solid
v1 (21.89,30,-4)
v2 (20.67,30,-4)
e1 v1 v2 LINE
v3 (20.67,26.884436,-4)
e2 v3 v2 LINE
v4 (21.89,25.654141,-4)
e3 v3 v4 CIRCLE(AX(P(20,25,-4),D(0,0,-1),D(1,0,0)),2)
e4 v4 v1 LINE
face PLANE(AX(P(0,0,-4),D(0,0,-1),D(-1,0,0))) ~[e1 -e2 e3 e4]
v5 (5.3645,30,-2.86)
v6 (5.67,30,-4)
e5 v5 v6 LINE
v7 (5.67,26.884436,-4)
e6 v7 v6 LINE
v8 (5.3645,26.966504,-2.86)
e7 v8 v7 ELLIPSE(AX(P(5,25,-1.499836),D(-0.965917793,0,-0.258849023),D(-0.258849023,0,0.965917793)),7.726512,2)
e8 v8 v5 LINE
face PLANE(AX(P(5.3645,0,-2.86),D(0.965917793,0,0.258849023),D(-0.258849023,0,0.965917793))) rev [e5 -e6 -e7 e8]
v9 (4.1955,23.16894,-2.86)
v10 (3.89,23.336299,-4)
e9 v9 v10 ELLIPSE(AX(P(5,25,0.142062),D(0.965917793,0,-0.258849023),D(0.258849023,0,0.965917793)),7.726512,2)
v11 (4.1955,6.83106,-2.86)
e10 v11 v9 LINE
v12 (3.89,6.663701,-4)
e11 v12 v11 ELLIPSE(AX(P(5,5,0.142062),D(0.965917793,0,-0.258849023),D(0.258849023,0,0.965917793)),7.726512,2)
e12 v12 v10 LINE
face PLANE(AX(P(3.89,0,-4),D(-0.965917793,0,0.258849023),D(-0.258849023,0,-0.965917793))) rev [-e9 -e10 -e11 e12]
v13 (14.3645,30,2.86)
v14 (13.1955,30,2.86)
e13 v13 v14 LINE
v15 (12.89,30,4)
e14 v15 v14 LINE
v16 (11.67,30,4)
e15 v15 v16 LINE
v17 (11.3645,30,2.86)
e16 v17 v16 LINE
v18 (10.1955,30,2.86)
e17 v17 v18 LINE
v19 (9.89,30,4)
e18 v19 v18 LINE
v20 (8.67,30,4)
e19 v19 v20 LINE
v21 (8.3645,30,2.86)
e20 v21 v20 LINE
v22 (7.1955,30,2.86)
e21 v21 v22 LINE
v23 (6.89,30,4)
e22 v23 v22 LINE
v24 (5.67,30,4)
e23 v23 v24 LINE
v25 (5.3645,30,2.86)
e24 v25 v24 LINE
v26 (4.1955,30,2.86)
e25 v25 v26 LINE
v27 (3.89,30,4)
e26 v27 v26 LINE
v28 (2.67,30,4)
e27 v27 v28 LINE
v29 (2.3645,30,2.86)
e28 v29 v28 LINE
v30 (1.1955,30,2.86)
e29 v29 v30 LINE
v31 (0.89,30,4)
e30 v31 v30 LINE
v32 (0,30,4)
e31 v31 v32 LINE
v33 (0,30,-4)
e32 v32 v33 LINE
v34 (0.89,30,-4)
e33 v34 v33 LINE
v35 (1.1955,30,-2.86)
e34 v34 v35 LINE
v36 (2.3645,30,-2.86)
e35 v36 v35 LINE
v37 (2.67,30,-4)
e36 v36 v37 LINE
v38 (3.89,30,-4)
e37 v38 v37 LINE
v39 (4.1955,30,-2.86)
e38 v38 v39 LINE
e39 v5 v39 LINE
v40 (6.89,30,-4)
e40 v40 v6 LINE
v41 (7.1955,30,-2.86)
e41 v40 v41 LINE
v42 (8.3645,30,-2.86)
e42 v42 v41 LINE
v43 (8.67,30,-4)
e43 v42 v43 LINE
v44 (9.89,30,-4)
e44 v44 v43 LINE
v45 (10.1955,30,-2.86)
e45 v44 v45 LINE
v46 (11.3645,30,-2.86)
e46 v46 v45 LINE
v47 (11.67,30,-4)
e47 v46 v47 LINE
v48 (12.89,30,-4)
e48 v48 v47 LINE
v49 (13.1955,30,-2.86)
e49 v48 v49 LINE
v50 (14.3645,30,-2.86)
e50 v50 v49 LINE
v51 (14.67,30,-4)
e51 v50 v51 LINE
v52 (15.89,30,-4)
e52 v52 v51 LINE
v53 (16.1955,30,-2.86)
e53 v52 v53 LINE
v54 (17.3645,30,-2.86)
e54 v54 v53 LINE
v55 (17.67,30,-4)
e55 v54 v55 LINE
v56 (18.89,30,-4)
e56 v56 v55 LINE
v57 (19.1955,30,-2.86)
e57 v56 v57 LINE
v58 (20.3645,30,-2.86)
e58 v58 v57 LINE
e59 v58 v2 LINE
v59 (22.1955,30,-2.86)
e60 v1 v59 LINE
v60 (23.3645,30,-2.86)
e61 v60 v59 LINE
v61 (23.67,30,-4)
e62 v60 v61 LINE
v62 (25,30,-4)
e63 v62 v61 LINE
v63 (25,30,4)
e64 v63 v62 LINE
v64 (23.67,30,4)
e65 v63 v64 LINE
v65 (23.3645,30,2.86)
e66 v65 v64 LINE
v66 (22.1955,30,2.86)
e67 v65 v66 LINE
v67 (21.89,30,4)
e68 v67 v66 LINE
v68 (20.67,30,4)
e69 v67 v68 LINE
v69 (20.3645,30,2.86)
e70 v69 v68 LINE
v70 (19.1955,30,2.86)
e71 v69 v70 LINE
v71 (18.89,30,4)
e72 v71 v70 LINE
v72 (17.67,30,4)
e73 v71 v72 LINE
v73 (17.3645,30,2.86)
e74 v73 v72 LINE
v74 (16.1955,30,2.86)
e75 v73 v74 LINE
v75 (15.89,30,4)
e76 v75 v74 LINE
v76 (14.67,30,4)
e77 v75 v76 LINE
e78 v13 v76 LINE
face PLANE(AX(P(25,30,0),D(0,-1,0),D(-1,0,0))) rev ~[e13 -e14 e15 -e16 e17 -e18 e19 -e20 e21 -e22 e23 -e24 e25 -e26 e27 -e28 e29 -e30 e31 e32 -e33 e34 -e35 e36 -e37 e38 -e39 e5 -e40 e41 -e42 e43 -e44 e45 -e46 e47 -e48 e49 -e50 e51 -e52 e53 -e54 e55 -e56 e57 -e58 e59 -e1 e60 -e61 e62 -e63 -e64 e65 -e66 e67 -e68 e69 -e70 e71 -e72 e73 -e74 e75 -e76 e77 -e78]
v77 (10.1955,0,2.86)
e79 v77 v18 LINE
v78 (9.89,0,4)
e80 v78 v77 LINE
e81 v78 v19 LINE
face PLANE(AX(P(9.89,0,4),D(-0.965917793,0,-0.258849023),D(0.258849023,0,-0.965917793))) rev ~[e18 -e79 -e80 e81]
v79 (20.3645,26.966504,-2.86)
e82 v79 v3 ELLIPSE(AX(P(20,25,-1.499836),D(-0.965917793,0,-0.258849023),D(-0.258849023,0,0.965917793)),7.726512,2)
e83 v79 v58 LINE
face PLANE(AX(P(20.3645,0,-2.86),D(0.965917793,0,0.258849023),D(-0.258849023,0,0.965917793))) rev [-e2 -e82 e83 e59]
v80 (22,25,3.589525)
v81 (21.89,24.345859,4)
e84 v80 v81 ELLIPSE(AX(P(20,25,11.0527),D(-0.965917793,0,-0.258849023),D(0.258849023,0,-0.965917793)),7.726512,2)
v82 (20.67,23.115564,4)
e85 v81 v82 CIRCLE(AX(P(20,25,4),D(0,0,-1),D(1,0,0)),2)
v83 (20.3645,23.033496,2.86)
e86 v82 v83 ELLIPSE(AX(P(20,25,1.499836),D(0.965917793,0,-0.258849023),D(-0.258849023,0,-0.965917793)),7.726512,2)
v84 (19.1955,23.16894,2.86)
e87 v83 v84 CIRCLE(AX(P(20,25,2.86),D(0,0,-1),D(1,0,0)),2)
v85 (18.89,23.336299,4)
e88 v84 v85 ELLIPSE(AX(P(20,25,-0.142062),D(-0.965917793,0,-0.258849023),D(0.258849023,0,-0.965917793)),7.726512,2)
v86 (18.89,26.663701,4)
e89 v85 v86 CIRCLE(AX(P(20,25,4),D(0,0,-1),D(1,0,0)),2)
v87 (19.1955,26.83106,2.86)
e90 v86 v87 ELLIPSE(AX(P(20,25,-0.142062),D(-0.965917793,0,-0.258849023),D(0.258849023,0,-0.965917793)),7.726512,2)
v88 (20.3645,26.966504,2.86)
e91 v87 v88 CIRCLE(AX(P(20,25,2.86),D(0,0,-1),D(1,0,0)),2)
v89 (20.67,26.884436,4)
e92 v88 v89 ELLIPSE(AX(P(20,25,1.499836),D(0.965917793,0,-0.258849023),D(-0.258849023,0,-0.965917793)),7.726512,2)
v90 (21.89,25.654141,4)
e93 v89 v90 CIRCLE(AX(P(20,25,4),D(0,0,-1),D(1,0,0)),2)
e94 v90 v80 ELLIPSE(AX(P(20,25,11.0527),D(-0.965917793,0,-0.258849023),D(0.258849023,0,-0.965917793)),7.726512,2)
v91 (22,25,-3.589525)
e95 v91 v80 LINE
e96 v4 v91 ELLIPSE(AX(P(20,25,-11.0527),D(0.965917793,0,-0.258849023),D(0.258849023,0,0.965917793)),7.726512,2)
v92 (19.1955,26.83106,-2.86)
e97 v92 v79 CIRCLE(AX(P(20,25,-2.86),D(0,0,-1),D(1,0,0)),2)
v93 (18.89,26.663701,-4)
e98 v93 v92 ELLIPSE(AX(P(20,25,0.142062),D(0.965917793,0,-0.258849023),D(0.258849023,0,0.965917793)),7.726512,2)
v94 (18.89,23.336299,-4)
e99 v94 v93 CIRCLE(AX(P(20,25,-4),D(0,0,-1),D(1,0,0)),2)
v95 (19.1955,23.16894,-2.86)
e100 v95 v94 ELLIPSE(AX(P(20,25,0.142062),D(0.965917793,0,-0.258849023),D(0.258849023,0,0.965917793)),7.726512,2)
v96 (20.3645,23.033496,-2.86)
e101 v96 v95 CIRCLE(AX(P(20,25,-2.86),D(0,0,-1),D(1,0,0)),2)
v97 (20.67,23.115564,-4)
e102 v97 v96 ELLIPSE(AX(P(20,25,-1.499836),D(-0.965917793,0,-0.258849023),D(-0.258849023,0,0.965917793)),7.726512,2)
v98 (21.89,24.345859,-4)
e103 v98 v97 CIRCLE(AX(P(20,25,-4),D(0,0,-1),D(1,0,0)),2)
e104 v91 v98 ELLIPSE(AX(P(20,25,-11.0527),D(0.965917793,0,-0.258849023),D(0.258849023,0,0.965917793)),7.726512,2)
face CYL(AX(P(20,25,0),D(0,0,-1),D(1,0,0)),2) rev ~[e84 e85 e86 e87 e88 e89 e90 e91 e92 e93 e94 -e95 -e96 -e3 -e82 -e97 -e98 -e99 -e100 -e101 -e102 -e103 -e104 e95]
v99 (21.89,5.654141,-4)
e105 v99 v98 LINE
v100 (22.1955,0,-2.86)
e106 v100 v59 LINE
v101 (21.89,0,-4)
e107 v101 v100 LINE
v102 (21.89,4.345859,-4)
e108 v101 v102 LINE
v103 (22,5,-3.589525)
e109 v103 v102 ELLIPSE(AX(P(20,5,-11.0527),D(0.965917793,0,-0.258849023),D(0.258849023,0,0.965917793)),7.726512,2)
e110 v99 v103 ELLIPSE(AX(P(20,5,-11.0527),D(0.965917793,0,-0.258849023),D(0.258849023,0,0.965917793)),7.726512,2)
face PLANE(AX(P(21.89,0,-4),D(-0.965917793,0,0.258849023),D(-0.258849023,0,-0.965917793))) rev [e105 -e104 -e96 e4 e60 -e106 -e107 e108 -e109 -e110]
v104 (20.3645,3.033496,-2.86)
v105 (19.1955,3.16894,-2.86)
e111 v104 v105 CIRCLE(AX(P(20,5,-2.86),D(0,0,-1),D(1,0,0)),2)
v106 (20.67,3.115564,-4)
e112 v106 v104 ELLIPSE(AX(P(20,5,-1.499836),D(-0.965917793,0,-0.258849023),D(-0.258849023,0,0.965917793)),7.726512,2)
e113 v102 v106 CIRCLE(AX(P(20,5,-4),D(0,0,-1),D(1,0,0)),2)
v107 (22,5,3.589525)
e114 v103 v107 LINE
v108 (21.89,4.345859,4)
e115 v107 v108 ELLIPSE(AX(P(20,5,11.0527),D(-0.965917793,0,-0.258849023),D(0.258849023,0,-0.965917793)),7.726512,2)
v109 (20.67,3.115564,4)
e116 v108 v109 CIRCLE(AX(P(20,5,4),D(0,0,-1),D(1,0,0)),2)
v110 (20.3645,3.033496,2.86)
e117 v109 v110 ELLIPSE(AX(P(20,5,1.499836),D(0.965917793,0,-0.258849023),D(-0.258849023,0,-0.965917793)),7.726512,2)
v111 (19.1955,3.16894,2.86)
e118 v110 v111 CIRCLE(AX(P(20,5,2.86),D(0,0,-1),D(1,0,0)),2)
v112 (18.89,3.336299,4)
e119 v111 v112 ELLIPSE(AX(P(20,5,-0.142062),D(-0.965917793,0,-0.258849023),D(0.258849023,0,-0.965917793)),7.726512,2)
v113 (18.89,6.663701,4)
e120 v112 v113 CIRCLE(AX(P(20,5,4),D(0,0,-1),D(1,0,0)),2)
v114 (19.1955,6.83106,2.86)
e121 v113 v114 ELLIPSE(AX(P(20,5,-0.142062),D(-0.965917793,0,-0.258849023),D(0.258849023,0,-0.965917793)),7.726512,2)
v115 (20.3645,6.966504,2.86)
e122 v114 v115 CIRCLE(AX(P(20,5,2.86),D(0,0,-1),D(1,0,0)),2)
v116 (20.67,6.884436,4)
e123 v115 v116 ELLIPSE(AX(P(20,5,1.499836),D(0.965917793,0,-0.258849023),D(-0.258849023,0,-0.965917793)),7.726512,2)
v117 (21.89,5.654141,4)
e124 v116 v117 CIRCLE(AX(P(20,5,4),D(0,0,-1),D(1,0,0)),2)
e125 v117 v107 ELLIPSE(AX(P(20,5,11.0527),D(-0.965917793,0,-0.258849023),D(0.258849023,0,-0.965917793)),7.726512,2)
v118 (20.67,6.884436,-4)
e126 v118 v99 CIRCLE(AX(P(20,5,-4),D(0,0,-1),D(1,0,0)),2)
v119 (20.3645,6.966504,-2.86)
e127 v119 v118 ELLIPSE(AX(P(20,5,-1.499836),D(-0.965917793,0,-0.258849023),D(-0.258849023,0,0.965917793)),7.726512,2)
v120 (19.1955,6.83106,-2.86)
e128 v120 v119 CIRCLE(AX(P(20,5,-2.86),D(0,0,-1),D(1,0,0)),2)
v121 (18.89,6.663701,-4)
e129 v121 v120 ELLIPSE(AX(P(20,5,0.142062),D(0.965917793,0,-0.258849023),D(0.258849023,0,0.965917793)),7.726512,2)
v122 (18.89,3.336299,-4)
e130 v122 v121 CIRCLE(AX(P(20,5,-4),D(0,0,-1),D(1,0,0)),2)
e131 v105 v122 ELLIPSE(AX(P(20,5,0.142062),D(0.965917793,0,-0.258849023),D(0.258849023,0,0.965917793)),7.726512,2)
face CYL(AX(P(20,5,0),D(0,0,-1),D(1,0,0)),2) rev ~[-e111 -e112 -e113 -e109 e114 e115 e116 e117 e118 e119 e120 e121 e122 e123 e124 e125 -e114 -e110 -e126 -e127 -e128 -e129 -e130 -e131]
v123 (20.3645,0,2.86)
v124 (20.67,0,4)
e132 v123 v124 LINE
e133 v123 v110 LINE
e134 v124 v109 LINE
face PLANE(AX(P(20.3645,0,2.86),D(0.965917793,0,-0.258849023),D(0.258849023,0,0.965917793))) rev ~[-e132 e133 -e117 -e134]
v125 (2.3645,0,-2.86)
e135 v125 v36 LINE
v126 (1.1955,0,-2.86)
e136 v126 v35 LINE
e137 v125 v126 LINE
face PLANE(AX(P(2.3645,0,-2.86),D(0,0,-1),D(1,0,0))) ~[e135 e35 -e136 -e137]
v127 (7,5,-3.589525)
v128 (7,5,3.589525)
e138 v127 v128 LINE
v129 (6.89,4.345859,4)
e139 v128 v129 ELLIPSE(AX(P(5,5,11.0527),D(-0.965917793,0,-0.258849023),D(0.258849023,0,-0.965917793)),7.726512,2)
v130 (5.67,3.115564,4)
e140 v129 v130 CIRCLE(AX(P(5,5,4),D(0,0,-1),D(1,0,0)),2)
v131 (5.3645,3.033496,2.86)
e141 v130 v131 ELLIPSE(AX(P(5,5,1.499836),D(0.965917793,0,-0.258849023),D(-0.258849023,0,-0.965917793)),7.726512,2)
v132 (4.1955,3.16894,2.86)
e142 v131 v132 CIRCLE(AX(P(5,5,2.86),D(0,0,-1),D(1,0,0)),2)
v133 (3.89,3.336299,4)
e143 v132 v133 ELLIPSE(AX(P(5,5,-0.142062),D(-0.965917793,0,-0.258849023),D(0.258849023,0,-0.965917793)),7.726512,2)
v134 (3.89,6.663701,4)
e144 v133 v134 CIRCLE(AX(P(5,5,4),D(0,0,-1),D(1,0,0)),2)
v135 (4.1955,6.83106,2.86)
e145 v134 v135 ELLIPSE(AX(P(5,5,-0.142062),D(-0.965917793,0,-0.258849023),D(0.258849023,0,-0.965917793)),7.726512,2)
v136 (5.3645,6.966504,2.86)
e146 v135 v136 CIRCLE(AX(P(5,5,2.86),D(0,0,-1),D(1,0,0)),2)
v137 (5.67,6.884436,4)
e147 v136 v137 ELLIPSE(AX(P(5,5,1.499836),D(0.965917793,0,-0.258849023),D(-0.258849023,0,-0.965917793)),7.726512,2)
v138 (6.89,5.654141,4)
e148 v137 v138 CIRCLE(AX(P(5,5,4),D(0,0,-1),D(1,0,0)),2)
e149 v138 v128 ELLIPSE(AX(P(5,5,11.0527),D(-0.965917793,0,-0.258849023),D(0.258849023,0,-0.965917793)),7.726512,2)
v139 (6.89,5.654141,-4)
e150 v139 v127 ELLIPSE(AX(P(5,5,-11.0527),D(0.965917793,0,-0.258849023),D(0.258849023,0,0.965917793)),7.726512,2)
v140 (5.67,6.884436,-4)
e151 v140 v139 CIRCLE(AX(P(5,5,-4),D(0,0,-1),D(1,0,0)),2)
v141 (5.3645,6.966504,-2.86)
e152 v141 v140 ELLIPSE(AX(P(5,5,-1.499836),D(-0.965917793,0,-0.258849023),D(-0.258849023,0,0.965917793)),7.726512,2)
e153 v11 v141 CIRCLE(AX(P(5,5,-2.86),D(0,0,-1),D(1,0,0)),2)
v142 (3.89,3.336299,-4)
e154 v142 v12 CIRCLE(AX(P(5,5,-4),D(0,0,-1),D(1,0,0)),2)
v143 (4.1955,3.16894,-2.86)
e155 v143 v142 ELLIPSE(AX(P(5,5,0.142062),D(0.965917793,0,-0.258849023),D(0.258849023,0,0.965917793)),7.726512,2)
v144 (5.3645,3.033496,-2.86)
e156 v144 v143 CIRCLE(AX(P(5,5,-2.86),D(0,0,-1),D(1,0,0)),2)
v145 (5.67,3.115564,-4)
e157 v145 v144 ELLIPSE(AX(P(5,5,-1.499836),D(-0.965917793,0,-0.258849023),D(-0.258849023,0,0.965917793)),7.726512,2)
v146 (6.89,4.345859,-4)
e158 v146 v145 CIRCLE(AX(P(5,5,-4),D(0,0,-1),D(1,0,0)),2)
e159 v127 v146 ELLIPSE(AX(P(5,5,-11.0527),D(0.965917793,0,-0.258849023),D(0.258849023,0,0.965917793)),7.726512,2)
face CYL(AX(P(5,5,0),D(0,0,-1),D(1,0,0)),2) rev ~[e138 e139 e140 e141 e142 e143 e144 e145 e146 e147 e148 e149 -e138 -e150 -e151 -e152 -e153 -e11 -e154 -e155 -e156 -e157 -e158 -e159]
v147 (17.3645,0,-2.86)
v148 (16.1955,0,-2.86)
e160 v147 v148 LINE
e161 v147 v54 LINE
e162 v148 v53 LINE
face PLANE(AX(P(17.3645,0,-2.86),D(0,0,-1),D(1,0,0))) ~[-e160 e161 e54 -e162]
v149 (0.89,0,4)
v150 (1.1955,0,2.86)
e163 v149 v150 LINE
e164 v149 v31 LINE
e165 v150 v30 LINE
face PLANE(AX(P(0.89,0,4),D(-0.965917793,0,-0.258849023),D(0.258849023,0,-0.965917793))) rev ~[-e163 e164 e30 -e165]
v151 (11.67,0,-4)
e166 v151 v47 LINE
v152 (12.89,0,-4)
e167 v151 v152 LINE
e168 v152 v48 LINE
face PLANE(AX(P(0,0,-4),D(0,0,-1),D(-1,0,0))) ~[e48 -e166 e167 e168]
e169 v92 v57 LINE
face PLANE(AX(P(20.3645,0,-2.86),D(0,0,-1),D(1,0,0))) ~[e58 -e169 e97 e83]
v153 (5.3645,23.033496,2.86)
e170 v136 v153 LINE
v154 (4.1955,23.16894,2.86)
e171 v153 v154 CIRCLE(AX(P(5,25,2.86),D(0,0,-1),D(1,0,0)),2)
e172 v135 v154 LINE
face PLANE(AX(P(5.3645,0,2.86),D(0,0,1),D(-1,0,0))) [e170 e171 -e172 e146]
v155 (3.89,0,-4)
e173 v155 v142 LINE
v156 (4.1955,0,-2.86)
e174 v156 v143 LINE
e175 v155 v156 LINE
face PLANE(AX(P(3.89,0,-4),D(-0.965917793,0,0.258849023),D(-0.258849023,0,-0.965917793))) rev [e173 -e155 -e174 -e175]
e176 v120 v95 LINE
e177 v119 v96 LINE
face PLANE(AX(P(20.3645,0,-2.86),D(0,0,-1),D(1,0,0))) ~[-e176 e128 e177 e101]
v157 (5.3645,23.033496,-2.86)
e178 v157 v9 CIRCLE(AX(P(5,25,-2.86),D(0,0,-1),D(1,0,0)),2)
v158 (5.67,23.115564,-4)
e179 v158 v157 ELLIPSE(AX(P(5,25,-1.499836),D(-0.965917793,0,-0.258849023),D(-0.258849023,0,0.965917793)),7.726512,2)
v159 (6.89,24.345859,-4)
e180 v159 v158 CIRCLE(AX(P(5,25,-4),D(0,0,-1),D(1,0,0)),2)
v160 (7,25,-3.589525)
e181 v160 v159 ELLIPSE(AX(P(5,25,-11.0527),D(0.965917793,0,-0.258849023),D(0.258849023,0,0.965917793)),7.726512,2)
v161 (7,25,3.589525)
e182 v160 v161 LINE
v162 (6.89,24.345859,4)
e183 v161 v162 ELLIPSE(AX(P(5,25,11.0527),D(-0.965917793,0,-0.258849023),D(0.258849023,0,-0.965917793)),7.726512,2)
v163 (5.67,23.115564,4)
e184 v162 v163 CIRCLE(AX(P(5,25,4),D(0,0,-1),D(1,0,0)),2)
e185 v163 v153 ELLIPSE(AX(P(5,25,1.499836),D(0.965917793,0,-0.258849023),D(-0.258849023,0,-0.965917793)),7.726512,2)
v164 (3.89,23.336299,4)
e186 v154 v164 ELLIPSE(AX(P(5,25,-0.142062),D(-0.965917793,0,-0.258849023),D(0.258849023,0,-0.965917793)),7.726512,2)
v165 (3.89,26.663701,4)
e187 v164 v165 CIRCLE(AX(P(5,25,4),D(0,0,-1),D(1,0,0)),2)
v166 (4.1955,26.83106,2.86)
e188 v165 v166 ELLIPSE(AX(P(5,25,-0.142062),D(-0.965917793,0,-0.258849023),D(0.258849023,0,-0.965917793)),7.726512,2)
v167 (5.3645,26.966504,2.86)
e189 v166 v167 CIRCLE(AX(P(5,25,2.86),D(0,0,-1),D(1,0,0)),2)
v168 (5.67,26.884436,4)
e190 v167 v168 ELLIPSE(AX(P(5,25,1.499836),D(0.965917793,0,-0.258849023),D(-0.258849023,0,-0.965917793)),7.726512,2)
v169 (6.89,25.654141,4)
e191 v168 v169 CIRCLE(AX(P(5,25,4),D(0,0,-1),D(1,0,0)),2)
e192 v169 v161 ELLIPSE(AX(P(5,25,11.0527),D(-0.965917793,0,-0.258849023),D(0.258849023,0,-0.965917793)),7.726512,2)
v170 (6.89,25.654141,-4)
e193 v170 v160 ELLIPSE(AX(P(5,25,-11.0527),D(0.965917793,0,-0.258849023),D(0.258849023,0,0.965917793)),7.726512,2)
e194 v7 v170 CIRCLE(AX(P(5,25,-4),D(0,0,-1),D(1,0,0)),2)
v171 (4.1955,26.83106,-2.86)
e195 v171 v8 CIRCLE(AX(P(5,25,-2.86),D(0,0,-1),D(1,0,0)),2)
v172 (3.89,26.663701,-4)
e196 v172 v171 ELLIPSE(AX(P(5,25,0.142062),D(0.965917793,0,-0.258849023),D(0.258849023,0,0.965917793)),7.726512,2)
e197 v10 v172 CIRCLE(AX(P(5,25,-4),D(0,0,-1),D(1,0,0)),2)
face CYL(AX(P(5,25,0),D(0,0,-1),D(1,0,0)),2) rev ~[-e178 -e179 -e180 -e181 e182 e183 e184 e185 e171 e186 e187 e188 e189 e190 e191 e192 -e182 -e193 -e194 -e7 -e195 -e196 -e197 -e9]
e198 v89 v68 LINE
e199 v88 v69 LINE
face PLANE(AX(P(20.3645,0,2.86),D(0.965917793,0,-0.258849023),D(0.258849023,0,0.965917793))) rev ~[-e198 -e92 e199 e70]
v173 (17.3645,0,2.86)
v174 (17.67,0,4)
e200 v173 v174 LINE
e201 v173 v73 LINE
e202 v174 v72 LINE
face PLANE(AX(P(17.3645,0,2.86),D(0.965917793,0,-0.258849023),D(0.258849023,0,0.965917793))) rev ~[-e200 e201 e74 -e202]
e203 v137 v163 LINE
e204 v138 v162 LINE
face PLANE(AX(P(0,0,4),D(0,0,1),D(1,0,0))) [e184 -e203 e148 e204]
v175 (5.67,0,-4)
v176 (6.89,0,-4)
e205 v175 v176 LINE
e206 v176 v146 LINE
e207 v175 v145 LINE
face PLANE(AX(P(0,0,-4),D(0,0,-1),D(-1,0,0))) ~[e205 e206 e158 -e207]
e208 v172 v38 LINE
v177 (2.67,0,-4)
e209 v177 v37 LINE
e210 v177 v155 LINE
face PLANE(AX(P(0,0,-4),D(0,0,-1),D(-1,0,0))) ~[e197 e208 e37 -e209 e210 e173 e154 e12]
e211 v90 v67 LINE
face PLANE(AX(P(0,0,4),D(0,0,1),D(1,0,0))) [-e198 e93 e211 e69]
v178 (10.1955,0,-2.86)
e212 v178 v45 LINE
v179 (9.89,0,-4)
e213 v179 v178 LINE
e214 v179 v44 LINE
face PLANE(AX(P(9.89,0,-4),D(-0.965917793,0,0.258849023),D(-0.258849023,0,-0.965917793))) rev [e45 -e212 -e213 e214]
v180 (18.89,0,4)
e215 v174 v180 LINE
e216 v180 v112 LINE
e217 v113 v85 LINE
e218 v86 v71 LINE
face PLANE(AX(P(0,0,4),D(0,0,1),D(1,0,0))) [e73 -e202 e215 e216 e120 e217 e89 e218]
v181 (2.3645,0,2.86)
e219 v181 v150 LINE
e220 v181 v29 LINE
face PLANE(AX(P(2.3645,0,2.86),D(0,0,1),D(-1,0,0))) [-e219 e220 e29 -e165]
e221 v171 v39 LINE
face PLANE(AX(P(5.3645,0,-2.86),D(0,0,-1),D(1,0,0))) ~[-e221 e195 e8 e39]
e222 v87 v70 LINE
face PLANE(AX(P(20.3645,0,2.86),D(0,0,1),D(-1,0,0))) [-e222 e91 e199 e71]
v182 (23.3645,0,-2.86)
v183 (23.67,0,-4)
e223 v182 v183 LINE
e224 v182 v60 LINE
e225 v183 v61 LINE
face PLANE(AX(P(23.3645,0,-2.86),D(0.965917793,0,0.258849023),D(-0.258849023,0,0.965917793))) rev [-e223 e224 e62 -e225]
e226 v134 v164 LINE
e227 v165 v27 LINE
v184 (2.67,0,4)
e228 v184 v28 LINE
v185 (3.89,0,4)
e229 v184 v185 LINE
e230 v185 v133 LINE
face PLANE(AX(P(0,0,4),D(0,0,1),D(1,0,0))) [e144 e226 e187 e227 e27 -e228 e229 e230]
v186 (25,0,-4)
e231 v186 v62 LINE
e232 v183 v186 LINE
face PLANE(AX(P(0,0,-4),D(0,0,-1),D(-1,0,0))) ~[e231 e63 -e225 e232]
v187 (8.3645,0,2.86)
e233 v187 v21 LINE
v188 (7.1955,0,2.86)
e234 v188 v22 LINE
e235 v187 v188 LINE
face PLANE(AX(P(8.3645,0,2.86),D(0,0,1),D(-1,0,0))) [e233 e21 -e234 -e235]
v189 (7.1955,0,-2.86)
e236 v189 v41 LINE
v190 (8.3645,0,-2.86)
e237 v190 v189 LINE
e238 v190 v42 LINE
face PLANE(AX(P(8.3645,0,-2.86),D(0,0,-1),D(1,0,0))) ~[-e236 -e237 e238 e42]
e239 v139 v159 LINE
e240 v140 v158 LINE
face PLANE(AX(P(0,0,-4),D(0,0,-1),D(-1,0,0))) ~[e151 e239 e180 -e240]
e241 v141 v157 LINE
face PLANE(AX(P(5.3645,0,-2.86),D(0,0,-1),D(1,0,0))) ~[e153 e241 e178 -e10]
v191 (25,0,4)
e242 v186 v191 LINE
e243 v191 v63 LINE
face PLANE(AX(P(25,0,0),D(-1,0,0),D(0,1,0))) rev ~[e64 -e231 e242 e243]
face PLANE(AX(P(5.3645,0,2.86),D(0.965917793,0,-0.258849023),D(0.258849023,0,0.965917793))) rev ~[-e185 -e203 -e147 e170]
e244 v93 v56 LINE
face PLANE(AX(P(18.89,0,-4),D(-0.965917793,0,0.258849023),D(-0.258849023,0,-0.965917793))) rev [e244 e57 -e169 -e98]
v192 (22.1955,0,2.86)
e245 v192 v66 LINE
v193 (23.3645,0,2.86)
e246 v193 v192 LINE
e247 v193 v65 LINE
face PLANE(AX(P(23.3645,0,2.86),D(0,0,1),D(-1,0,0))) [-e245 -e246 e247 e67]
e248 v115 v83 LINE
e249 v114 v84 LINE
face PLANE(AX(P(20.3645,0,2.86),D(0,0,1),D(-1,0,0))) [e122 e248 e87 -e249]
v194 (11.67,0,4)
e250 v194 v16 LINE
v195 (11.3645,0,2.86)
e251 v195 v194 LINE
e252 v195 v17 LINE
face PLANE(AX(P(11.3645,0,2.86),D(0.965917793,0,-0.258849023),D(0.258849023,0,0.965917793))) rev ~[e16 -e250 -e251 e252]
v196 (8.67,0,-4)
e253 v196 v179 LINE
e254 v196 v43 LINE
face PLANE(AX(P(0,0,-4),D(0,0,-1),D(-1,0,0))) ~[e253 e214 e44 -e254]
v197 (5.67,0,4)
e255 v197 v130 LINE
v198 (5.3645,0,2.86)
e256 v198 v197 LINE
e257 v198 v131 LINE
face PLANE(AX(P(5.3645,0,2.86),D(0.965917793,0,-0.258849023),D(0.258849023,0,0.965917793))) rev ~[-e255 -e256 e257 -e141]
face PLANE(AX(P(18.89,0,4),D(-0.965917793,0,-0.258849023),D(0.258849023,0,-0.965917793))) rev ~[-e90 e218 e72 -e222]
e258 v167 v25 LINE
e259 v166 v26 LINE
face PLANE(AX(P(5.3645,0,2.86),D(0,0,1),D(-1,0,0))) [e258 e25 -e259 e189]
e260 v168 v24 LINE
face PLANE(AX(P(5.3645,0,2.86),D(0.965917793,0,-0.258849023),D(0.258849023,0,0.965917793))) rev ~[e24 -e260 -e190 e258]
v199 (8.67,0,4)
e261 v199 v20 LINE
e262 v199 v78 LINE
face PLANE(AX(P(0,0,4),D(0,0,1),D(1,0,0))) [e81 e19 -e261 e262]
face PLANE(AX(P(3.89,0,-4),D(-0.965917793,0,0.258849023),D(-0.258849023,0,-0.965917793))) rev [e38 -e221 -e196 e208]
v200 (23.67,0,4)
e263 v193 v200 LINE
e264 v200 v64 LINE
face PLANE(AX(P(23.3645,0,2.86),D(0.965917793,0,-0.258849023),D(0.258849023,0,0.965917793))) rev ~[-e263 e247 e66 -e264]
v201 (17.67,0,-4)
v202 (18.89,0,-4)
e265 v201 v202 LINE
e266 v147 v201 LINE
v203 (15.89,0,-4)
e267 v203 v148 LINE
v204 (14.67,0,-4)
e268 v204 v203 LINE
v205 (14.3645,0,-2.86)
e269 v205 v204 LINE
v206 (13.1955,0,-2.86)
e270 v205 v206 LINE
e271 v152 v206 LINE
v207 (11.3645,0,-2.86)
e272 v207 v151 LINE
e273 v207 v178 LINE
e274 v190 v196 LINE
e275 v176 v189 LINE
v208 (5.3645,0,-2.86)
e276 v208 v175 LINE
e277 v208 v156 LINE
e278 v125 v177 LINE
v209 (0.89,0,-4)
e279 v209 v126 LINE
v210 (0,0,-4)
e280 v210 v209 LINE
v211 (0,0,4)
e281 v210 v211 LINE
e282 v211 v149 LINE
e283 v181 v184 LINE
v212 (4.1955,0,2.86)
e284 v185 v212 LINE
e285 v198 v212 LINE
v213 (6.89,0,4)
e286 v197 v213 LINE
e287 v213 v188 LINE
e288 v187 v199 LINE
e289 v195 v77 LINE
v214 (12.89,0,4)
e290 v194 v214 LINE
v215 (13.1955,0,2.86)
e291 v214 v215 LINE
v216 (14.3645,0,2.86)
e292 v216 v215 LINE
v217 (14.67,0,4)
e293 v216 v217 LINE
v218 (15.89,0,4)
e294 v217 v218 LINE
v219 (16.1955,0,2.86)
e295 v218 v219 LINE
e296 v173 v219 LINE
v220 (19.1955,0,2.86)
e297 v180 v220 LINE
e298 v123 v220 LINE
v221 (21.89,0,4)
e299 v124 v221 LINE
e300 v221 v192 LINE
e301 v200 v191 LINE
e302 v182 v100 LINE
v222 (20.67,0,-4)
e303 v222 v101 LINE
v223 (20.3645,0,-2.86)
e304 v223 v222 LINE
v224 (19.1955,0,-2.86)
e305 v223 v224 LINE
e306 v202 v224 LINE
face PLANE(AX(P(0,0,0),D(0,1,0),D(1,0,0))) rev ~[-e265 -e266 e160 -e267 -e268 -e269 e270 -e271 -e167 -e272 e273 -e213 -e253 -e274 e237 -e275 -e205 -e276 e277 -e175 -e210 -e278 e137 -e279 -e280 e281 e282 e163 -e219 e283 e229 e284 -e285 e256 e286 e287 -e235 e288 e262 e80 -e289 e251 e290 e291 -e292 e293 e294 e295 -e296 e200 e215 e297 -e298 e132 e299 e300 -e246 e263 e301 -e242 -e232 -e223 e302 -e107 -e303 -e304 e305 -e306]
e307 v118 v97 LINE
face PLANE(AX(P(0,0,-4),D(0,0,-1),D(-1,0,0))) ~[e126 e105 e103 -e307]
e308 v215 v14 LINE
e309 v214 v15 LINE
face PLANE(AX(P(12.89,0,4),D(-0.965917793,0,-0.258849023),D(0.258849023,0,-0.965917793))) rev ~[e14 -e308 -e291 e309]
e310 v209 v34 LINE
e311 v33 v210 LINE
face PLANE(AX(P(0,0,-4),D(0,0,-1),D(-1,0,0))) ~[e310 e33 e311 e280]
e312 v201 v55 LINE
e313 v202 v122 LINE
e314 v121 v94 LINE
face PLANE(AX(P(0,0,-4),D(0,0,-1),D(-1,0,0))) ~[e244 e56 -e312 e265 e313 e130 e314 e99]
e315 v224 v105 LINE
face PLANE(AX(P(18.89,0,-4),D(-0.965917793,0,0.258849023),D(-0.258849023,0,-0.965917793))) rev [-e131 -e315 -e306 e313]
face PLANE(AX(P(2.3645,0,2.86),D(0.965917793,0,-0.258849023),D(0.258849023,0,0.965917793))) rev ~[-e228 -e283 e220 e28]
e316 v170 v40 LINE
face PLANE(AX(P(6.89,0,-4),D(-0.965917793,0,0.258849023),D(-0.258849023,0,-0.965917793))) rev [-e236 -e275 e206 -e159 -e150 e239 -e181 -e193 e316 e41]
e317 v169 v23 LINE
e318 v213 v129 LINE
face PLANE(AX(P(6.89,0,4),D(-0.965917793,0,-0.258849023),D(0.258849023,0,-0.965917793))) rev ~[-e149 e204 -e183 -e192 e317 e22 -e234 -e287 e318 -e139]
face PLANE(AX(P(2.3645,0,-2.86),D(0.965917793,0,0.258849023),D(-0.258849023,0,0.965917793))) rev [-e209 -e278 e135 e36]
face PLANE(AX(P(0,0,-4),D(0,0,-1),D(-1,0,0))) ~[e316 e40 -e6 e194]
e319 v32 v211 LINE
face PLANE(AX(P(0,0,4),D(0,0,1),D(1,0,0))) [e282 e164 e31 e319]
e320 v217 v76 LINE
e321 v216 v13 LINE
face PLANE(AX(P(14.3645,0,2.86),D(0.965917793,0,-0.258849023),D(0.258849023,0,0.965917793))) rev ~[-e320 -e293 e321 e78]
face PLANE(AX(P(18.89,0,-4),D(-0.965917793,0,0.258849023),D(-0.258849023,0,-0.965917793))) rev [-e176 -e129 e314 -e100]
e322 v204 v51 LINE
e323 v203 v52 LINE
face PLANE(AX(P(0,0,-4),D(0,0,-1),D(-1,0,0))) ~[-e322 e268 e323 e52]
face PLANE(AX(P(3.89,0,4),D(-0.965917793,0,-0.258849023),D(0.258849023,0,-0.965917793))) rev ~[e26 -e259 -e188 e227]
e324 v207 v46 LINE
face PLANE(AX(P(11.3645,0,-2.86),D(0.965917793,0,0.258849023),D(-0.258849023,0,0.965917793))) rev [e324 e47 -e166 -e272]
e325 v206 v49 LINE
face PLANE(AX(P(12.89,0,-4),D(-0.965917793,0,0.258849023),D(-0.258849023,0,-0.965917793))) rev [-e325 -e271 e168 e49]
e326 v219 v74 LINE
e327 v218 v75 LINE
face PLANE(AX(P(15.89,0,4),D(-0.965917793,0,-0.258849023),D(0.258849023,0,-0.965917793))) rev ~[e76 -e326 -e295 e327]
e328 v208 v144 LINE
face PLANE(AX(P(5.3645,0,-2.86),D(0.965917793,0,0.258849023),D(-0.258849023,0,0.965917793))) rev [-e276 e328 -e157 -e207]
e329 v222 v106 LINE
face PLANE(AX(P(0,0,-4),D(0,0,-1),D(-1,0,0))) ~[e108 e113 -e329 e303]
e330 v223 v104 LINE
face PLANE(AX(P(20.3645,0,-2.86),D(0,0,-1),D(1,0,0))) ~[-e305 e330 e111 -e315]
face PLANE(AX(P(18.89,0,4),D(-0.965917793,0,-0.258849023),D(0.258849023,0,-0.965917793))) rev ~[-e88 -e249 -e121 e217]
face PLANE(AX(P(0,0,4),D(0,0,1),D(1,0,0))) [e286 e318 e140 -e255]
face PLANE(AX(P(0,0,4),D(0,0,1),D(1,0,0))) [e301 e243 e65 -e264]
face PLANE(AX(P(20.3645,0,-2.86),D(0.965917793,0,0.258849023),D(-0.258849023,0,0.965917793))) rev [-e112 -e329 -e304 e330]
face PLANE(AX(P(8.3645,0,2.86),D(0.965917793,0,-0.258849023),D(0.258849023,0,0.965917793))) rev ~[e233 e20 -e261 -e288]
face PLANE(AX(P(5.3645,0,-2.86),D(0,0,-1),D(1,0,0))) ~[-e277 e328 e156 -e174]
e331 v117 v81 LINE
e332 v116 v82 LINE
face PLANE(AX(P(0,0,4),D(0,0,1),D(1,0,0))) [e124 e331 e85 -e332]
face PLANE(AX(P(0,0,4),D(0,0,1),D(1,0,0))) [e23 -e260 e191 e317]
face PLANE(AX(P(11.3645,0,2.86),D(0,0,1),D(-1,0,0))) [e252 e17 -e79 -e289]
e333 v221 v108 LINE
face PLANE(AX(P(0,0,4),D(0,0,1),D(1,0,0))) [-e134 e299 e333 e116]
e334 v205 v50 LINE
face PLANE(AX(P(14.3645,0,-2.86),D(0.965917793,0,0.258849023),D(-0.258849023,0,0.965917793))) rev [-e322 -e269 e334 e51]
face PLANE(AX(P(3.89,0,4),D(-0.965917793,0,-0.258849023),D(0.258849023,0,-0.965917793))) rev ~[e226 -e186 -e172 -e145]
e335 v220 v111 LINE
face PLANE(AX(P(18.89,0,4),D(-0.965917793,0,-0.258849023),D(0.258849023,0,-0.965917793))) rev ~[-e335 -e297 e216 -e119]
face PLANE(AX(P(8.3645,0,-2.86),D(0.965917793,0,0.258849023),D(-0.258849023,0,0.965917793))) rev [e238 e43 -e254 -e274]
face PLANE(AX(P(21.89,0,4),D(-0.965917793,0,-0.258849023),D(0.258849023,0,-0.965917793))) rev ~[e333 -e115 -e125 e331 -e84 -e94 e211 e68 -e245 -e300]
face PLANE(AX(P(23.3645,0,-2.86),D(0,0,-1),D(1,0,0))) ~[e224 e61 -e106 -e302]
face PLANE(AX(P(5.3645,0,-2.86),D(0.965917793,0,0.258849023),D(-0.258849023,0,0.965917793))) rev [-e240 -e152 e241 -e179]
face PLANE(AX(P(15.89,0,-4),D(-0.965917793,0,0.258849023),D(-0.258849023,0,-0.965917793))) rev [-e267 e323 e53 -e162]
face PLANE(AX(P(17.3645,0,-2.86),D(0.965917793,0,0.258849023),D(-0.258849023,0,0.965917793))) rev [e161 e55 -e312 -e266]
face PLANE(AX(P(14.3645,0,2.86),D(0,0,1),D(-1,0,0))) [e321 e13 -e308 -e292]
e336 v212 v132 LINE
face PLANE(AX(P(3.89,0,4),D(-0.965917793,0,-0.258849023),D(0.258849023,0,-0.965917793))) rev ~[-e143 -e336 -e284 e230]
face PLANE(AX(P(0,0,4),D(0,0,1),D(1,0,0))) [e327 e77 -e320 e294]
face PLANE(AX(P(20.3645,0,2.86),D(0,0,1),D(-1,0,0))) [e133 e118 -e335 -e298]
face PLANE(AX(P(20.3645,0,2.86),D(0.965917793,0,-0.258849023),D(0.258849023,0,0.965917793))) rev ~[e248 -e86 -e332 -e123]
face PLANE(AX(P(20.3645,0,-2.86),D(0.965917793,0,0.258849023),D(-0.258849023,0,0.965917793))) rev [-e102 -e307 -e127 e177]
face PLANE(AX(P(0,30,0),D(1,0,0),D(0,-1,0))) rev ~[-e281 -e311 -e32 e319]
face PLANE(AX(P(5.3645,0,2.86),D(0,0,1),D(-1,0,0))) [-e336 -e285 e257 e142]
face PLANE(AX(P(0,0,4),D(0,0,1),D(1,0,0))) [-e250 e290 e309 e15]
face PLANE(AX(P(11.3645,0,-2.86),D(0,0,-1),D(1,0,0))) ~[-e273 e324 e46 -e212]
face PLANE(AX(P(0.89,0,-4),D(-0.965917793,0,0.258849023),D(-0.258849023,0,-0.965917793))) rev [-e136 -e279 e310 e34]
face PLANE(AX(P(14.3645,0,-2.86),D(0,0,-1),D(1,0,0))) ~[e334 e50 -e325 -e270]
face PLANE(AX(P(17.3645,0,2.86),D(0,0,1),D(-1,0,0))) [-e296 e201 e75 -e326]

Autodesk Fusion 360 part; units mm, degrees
sketch "Sketch1" plane through (0, 0, 0) normal (0, 0, 1) x (1, 0, 0)
  line L0 (0, 0) -> (25, 0)
  line L1 (25, 0) -> (25, 30)
  line L2 (25, 30) -> (0, 30)
  line L3 (0, 30) -> (0, 0)
  dimension "d1" = 25
  dimension "d2" = 30
extrude "Extrude1" add sketch "Sketch1" along normal blind 4
sketch "Sketch2" plane through (0, 0, 0) normal (0, -1, 0) x (1, 0, 0)
  line L0 (0, 0) -> (25, 0)
  line L1 (25, 0) -> (25, 4)
  line L2 (25, 4) -> (0, 4)
  line L3 (0, 4) -> (0, 0)
  line L4 (25, 2.86) -> (0, 2.86)
  line L5 (0.89, 4) -> (1.1955, 2.86)
  line L6 (2.3645, 2.86) -> (2.67, 4)
  line L7 (3.89, 4) -> (4.1955, 2.86)
  line L8 (5.3645, 2.86) -> (5.67, 4)
  line L9 (6.89, 4) -> (7.1955, 2.86)
  line L10 (8.3645, 2.86) -> (8.67, 4)
  line L11 (9.89, 4) -> (10.1955, 2.86)
  line L12 (11.3645, 2.86) -> (11.67, 4)
  line L13 (12.89, 4) -> (13.1955, 2.86)
  line L14 (14.3645, 2.86) -> (14.67, 4)
  line L15 (15.89, 4) -> (16.1955, 2.86)
  line L16 (17.3645, 2.86) -> (17.67, 4)
  line L17 (18.89, 4) -> (19.1955, 2.86)
  line L18 (20.3645, 2.86) -> (20.67, 4)
  line L19 (21.89, 4) -> (22.1955, 2.86)
  line L20 (23.3645, 2.86) -> (23.67, 4)
  dimension "d5" = 1.14
  dimension "d7" = 1.78
  dimension "d8" = 0.89
  dimension "d11" = 3
  dimension "d12" = 0
  dimension "d15" = 30
extrude "Extrude2" cut sketch "Sketch2" against normal up to surface (30 mm away) contours L2 L4 L5 L6 | L2 L4 L19 L20 | L2 L4 L7 L8 | L2 L4 L17 L18 | L2 L4 L9 L10 | L2 L4 L15 L16 | L2 L4 L11 L12 | L2 L4 L13 L14
sketch "Sketch3" plane through (0, 0, 0) normal (0, 0, -1) x (1, 0, 0)
  line L0 (0, 0) -> (0, -30)
  line L1 (0, -30) -> (25, -30)
  line L2 (25, -30) -> (25, 0)
  line L3 (25, 0) -> (0, 0)
  line L4 (20, -25) -> (5, -25) construction
  line L5 (5, -25) -> (5, -5) construction
  line L6 (5, -5) -> (20, -5) construction
  line L7 (20, -5) -> (20, -25) construction
  circle A0 centre (20, -25) radius 2
  circle A1 centre (5, -25) radius 2
  circle A2 centre (20, -5) radius 2
  circle A3 centre (5, -5) radius 2
  point P0 (12.5, -25)
  point P1 (5, -15)
  point P2 (0, -15)
  point P3 (12.5, -30)
  dimension "d16" = 15
  dimension "d17" = 20
  dimension "d18" = 4
  dimension "d19" = 4
extrude "Extrude3" cut sketch "Sketch3" against normal through all contours A0 | A1 | A2 | A3
mirror "Mirror1" about plane through (0, 0, 0) normal (0, 0, -1) of bodies 1 merged
equation "d8 = ( 1.78 / 2 ) * 1 mm"
